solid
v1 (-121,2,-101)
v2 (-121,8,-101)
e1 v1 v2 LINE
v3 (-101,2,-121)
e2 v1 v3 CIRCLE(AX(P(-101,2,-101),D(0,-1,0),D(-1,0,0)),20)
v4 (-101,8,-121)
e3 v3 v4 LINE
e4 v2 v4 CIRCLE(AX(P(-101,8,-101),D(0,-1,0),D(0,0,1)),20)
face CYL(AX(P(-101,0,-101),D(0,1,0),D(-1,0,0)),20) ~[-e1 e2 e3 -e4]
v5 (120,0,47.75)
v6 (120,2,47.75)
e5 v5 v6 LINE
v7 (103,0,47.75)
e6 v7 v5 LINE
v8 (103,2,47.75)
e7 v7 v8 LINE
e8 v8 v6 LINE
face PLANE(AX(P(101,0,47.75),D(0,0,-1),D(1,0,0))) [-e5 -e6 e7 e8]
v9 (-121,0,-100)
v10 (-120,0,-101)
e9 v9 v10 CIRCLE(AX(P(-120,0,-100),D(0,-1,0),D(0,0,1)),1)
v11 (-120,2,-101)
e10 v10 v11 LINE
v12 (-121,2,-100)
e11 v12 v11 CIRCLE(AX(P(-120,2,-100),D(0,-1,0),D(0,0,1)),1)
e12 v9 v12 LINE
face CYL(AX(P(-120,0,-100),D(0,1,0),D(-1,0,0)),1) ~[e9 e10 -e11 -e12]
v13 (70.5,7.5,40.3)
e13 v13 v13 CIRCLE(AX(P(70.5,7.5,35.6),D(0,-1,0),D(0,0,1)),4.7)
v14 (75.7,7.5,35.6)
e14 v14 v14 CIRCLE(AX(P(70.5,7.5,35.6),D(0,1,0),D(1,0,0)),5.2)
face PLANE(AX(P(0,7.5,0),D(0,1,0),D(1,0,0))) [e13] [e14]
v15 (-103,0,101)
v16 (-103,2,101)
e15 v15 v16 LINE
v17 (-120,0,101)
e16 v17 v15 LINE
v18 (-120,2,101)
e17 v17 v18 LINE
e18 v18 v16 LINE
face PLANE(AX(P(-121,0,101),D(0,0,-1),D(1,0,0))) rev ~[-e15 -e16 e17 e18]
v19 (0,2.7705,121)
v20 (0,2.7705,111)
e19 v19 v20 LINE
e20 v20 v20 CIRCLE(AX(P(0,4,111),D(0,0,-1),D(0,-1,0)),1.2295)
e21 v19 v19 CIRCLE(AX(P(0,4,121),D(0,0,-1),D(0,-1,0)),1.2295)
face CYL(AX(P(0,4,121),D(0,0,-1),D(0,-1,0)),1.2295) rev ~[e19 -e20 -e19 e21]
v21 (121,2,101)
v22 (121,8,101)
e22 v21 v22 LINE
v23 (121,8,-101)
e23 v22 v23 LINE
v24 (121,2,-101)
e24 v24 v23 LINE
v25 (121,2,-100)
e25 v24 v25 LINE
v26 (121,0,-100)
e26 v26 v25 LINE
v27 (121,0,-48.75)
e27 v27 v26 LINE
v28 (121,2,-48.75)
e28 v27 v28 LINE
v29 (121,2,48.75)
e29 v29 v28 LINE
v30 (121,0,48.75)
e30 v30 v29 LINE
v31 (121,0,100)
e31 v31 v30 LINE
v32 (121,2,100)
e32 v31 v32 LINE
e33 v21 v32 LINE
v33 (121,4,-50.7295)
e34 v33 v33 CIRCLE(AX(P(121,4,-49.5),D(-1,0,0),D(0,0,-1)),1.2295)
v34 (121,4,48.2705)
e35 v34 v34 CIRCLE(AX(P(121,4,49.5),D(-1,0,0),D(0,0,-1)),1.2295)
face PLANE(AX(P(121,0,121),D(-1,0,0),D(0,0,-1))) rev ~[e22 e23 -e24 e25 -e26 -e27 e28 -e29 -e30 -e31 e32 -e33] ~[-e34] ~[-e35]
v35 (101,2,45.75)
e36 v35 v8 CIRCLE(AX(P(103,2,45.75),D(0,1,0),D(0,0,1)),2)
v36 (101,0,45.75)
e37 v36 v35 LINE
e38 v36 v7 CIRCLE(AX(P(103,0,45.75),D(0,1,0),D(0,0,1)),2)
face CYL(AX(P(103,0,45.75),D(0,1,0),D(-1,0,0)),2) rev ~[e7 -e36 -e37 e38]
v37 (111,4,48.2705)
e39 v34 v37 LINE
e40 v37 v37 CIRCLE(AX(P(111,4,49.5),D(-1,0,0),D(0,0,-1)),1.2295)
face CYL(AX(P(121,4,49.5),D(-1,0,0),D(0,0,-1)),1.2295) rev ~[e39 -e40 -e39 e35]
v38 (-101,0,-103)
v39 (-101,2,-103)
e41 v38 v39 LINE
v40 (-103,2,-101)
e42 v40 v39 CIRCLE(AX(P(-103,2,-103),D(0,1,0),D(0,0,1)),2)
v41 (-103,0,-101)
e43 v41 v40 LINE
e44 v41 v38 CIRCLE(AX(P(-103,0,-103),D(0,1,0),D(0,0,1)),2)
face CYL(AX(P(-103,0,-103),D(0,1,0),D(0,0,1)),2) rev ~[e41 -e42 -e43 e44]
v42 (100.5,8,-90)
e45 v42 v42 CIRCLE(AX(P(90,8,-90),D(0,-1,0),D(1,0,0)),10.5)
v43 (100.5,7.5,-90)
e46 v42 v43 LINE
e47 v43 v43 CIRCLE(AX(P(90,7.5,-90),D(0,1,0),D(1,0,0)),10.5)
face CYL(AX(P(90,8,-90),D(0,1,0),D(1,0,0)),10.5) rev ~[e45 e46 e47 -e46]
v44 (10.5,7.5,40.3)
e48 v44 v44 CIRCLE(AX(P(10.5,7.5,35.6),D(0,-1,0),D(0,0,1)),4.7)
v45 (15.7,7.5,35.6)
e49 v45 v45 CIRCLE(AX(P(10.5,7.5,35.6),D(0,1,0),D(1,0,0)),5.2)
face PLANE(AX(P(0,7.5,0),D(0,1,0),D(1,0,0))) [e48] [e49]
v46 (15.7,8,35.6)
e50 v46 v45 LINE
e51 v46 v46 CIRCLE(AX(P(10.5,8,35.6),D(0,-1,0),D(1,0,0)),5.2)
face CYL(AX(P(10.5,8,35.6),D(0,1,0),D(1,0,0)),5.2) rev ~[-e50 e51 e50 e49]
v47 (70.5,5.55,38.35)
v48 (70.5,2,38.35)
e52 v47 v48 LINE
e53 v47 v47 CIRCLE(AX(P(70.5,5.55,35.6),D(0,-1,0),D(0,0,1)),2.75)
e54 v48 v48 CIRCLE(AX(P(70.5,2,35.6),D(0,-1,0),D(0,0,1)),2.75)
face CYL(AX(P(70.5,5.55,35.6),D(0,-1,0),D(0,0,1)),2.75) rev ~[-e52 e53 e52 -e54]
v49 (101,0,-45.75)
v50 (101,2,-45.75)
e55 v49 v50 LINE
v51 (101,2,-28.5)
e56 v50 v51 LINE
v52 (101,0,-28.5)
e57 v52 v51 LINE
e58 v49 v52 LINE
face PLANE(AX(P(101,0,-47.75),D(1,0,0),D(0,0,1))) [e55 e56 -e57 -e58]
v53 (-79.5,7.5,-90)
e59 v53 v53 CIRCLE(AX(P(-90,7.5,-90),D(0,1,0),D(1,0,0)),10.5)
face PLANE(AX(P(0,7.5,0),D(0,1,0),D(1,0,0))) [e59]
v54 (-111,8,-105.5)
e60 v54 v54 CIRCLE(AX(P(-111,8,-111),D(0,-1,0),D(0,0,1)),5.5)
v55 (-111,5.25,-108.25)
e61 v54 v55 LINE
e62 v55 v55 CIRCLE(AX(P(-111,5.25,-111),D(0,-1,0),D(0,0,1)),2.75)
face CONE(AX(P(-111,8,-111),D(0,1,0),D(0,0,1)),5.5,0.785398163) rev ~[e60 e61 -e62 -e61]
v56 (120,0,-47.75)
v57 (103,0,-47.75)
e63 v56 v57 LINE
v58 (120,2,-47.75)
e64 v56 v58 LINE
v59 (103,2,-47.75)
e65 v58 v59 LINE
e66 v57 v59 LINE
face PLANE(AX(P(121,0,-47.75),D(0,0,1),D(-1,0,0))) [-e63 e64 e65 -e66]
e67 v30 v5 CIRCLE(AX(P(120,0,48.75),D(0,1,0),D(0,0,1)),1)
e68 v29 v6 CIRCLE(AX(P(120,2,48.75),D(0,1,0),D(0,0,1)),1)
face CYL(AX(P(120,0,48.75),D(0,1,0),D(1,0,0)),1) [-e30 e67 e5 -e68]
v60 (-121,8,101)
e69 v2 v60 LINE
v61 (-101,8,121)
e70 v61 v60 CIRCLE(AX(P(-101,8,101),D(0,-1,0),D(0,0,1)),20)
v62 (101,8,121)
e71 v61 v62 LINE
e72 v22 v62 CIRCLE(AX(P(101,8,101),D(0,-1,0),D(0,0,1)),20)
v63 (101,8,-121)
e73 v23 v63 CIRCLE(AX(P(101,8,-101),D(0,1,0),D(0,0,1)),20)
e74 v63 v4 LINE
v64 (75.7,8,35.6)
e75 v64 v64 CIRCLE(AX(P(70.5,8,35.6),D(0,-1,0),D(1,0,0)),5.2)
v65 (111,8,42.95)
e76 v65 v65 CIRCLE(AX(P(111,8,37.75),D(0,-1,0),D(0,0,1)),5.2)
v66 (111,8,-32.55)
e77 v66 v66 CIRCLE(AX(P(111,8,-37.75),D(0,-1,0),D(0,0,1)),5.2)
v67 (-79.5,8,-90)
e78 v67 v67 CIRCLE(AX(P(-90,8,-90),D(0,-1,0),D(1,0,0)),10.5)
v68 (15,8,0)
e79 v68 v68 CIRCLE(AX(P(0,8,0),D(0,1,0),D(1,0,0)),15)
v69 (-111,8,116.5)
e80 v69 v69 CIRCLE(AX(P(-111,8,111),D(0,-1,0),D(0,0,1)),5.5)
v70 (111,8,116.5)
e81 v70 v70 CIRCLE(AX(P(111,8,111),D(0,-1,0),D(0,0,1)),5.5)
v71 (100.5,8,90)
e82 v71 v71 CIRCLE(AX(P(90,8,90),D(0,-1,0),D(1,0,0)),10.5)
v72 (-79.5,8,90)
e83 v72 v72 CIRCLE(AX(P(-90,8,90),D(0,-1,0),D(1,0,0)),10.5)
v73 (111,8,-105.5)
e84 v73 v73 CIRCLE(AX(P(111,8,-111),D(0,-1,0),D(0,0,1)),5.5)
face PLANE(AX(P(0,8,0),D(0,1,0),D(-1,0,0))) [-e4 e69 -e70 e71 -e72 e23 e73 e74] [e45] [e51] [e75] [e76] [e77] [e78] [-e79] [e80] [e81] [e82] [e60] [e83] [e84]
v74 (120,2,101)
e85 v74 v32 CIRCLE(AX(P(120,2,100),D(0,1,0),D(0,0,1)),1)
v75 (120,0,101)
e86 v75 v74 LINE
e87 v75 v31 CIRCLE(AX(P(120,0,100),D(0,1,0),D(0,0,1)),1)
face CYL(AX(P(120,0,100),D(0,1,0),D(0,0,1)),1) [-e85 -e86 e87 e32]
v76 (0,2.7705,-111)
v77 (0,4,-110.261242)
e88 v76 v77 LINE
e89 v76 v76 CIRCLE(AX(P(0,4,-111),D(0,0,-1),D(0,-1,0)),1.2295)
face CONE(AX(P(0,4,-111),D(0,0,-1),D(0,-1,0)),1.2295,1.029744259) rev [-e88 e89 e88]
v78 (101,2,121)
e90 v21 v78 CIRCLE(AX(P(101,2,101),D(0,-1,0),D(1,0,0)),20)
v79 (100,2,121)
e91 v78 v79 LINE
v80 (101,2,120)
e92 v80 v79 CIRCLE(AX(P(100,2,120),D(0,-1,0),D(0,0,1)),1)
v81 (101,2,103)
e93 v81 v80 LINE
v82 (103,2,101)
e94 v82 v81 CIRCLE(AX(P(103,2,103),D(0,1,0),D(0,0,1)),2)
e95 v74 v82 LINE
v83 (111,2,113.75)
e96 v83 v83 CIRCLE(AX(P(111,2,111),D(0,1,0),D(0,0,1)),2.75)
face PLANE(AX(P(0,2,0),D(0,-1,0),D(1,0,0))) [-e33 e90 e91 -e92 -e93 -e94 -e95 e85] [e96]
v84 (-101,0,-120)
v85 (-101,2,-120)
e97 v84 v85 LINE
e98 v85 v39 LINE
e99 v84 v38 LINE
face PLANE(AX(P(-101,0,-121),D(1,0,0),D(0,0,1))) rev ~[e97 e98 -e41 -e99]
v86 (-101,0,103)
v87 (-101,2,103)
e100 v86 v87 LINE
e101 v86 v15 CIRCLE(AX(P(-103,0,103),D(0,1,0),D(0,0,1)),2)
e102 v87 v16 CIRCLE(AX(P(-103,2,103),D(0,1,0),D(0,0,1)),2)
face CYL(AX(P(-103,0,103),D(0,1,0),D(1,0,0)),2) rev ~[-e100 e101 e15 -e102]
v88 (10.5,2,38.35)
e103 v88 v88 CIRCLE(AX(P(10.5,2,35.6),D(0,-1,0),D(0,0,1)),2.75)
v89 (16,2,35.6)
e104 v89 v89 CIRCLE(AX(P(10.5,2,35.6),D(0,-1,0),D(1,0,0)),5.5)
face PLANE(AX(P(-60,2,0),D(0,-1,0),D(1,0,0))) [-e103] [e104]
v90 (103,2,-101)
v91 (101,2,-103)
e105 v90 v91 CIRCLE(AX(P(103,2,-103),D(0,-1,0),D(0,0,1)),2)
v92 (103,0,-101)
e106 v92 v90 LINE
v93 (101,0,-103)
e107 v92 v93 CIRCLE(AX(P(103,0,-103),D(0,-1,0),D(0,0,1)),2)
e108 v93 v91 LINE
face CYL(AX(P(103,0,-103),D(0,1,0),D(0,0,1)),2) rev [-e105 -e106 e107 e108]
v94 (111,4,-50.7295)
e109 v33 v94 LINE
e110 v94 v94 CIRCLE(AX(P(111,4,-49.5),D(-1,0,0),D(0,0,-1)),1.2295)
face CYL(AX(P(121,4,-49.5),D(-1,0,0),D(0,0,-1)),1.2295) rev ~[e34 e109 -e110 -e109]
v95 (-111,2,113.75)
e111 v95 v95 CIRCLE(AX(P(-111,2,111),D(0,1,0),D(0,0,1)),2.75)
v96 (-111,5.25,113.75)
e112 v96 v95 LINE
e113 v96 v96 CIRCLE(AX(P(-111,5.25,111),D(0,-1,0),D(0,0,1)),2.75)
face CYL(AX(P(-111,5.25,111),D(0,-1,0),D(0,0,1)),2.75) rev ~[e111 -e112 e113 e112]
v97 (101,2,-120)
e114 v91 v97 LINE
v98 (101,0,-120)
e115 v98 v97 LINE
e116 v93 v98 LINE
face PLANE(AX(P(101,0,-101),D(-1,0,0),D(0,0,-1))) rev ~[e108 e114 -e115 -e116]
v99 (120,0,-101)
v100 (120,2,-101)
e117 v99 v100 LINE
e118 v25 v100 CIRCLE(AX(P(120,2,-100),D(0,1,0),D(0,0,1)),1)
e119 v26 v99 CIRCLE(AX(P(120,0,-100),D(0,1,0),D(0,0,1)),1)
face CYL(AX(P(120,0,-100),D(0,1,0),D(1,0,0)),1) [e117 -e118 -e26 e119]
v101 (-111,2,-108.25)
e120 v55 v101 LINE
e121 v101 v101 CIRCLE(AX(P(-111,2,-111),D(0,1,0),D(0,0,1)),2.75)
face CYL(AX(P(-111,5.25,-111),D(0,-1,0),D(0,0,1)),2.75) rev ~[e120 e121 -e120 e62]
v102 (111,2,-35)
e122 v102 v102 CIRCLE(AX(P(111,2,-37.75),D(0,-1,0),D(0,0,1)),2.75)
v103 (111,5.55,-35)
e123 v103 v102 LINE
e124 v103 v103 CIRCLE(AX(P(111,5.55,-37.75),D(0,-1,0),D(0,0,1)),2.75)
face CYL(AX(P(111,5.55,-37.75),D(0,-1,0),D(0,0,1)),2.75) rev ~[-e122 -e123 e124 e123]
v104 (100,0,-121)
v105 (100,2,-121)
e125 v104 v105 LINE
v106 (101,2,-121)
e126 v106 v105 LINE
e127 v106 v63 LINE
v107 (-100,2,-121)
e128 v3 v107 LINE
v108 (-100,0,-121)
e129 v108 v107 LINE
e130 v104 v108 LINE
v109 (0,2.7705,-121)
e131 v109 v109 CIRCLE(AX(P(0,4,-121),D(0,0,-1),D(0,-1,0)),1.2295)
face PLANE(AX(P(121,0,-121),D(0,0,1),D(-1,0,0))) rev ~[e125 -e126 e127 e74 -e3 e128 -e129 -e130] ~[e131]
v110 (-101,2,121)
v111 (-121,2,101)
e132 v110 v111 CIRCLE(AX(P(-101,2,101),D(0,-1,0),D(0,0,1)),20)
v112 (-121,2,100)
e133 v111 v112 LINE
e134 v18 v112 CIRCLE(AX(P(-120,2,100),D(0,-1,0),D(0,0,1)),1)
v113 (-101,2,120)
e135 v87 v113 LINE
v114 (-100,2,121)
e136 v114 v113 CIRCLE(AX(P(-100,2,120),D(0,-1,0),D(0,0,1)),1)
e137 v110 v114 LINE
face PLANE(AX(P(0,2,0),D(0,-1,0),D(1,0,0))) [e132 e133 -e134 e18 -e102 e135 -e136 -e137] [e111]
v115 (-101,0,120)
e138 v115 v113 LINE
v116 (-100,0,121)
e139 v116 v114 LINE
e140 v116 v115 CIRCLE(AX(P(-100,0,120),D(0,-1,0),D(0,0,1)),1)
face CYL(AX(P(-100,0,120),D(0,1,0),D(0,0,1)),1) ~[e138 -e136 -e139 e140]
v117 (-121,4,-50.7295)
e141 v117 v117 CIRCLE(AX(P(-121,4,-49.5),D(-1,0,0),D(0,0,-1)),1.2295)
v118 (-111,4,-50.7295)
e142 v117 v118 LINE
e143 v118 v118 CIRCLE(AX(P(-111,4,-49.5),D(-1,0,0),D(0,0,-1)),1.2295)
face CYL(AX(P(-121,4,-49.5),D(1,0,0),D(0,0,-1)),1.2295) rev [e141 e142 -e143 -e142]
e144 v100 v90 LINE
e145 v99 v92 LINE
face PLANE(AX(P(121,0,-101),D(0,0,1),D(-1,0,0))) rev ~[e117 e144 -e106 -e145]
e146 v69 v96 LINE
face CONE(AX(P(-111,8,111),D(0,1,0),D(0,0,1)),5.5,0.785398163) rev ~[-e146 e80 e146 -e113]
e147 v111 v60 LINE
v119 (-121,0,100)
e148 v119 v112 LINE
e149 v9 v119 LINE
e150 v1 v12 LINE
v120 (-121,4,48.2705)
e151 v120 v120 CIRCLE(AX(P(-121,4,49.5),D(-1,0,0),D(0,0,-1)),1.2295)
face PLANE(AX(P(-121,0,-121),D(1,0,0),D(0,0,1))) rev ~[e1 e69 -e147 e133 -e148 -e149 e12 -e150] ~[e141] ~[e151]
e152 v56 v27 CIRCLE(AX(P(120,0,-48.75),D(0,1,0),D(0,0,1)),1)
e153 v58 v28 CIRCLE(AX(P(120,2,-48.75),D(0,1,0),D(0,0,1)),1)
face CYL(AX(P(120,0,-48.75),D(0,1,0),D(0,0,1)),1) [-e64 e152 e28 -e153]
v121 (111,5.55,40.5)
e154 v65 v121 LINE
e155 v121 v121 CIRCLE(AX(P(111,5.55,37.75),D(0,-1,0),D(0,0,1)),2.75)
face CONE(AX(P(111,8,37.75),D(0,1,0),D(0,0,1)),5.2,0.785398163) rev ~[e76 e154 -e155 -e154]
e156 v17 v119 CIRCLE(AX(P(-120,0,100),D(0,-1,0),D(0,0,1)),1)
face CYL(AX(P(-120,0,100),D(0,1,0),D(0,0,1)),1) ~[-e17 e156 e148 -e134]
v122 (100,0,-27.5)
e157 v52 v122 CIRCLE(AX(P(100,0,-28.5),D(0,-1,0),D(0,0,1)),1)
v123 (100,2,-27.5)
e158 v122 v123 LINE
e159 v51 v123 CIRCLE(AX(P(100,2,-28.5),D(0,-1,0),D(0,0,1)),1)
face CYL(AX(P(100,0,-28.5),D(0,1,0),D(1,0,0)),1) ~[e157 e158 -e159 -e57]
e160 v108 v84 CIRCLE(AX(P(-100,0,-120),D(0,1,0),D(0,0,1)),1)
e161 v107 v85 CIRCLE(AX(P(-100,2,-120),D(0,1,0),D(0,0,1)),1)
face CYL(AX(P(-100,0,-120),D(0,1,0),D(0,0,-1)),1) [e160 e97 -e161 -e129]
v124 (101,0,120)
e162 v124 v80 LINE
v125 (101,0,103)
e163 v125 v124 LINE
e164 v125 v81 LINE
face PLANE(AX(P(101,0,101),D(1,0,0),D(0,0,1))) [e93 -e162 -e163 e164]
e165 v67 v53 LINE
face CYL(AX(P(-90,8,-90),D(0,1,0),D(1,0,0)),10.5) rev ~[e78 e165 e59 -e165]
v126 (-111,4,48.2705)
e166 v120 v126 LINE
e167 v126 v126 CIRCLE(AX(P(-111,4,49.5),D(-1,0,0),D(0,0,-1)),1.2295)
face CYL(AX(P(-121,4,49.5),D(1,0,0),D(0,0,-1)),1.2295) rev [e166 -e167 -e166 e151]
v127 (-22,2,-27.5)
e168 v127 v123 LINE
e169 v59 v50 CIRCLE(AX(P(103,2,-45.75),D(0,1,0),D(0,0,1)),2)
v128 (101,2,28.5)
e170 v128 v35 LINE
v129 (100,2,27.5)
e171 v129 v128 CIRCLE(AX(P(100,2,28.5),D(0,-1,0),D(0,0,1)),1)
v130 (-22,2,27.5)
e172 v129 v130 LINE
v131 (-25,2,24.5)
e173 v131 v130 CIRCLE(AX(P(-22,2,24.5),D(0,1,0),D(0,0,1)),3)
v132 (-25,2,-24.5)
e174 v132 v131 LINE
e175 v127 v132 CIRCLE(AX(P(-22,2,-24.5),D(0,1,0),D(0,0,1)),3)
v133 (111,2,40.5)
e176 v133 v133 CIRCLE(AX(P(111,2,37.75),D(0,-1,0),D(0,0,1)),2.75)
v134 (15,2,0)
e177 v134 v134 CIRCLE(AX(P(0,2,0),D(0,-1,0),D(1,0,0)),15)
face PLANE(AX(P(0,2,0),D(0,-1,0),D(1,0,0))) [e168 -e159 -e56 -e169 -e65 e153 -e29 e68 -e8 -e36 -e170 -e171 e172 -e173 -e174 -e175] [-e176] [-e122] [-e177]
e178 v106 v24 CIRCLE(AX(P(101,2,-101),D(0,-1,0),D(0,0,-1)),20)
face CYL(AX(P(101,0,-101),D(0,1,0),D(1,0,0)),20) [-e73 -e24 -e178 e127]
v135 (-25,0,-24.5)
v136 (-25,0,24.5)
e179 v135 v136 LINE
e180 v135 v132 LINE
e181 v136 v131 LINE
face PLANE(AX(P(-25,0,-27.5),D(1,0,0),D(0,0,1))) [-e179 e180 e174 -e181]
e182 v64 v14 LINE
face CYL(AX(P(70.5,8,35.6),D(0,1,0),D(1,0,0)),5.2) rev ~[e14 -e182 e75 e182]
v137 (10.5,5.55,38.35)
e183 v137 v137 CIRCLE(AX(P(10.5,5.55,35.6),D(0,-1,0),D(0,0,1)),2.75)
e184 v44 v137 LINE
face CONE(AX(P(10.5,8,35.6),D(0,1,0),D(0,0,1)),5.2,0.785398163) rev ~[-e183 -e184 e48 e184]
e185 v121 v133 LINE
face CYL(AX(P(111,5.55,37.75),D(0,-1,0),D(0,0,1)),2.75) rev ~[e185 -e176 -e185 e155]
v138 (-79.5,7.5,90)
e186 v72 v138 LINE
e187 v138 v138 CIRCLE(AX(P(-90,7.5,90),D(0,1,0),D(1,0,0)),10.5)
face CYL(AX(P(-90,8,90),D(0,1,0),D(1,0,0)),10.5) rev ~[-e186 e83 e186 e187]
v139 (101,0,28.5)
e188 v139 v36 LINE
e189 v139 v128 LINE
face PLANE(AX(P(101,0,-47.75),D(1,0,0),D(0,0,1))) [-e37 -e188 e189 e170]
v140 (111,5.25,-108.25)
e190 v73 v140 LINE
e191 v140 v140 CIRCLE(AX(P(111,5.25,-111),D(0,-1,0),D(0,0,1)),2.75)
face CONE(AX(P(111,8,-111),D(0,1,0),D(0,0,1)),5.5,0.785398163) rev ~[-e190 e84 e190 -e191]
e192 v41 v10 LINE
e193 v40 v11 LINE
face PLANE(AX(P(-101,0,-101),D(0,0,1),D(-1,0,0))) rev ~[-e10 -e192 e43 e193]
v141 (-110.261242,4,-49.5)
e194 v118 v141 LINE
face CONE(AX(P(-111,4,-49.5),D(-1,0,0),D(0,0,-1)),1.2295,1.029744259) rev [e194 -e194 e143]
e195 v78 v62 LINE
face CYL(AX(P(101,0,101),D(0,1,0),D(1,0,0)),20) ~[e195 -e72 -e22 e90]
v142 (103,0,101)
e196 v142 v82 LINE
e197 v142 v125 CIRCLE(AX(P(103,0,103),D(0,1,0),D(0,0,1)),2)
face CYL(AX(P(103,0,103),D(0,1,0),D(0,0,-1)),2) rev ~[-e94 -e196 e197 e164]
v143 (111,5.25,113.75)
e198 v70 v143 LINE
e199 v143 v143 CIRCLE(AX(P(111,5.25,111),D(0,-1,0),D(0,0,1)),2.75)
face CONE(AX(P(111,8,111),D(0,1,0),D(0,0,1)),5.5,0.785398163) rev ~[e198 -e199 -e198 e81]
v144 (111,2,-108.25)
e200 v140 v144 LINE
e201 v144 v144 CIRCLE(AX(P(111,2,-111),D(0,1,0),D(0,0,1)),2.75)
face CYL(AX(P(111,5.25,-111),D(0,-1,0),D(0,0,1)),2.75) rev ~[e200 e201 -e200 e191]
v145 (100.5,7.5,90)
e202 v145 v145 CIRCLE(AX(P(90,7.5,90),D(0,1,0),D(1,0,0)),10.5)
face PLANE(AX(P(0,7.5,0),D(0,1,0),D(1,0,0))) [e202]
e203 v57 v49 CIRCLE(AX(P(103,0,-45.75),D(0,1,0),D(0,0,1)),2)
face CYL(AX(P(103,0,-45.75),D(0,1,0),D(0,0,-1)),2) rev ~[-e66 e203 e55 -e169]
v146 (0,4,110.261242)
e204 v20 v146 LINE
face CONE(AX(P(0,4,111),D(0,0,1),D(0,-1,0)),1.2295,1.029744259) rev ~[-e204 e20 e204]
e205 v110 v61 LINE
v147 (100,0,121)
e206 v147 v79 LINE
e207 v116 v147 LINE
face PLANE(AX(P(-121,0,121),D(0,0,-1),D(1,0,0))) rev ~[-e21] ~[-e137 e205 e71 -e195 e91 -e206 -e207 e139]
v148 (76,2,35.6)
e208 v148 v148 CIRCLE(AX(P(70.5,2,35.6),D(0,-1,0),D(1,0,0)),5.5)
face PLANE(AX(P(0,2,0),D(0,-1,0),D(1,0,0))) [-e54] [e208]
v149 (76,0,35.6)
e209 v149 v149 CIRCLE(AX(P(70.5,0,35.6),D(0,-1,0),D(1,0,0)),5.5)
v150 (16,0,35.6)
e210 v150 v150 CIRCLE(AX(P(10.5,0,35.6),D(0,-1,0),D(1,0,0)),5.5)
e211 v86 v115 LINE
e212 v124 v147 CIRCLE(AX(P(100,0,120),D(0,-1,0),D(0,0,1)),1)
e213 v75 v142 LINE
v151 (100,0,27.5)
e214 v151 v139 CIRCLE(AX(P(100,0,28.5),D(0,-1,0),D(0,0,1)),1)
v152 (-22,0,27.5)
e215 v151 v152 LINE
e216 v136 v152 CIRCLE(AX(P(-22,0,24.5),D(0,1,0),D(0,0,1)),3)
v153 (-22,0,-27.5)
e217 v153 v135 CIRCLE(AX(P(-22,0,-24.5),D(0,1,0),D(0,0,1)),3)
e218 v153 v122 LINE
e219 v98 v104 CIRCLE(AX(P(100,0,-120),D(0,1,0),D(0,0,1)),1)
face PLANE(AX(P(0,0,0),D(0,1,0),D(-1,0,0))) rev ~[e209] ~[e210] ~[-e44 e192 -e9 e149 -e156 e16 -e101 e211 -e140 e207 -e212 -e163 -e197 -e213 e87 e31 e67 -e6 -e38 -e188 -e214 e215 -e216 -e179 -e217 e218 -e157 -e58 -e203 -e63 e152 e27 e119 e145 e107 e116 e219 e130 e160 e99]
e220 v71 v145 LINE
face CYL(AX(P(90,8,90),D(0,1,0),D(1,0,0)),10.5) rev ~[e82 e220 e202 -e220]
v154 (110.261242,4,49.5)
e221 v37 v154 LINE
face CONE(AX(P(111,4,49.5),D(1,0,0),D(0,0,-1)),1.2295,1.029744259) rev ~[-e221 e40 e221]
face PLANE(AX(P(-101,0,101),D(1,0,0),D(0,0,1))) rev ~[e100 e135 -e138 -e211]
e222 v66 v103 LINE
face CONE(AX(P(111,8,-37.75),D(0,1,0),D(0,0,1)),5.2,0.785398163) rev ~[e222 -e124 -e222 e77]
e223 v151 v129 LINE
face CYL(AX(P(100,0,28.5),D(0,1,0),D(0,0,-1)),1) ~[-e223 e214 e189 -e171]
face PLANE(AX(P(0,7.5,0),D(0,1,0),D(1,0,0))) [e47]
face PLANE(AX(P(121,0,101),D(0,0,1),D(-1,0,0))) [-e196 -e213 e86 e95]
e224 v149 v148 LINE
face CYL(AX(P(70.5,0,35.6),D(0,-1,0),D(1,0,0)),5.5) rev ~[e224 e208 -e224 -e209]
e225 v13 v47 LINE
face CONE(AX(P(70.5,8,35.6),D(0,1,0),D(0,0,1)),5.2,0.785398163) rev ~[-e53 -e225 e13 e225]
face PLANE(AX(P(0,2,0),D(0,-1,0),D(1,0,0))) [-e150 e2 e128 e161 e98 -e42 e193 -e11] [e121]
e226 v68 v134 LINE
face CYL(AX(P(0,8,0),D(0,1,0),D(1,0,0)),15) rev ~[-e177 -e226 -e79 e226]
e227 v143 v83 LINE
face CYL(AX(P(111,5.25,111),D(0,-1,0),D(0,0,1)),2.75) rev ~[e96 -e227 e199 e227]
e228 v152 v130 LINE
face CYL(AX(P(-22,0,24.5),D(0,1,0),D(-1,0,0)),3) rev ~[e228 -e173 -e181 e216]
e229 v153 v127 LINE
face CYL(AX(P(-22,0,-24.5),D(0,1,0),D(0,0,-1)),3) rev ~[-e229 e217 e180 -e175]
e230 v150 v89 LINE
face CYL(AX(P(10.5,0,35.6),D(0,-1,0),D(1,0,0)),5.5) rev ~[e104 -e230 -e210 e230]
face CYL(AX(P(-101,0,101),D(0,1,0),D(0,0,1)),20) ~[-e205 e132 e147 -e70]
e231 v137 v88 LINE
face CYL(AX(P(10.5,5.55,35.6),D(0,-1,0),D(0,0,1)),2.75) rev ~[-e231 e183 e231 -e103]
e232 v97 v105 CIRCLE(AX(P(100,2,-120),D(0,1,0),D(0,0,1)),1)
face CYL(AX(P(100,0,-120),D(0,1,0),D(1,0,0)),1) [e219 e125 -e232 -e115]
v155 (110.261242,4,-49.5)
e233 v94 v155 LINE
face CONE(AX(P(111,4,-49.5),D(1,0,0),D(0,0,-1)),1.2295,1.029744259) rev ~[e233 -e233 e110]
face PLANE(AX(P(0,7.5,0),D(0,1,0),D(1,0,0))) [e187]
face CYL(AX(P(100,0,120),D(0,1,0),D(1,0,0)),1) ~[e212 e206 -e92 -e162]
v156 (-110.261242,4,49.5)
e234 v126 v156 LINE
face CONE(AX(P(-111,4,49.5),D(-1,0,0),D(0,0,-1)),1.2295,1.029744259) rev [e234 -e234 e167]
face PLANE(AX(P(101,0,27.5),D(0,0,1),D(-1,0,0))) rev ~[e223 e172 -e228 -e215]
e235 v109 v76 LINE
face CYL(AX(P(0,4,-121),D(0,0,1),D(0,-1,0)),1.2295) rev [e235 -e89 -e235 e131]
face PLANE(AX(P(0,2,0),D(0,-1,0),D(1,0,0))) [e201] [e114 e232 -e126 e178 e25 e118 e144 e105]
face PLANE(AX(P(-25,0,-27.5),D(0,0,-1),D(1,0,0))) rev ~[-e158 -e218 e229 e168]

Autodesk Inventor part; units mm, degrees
ref_plane "YZ Plane" through (0, 0, 0) normal (1, 0, 0) x (0, 1, 0)
ref_plane "XZ Plane" through (0, 0, 0) normal (0, 1, 0) x (-1, 0, 0)
ref_plane "XY Plane" through (0, 0, 0) normal (0, 0, 1) x (1, 0, 0)
sketch "Skizze1" plane through (0, 0, 0) normal (0, 1, 0) x (-1, 0, 0)
  line L0 (-121, -121) -> (121, -121)
  line L1 (121, -121) -> (121, 121)
  line L2 (121, 121) -> (-121, 121)
  line L3 (-121, 121) -> (-121, -121)
  line L4 (-121, -121) -> (121, 121) construction
  line L5 (121, -121) -> (-121, 121) construction
  point P0 (0, 0)
  dimension "d0" = 242
  dimension "d1" = 242
extrude "Extrusion1" add sketch "Skizze1" along normal blind 8
fillet "Rundung1" radius 20 4 edges at (121, 4, 121) (121, 4, -121) (-121, 4, -121) (-121, 4, 121)
sketch "Skizze6" plane through (0, 8, 0) normal (0, 1, 0) x (1, 0, 0)
  arc A0 (-121, -101) -> (-101, -121) centre (-101, -101) ccw projected
  line L0 (-101, -121) -> (101, -121) projected
  arc A1 (101, -121) -> (121, -101) centre (101, -101) ccw projected
  line L1 (121, -101) -> (121, 101) projected
  arc A2 (121, 101) -> (101, 121) centre (101, 101) ccw projected
  line L2 (101, 121) -> (-101, 121) projected
  arc A3 (-101, 121) -> (-121, 101) centre (-101, 101) ccw projected
  line L3 (-121, 101) -> (-121, -101) projected
  circle A4 centre (0, 0) radius 15
  dimension "d35" = 30
extrude "Extrusion4" cut sketch "Skizze6" against normal blind 10 contours A4
sketch "Skizze9" plane through (0, 8, 0) normal (0, 1, 0) x (1, 0, 0)
  circle A0 centre (0, 0) radius 15 projected
  arc A1 (-121, -101) -> (-101, -121) centre (-101, -101) ccw projected
  line L0 (-101, -121) -> (101, -121) projected
  arc A2 (101, -121) -> (121, -101) centre (101, -101) ccw projected
  line L1 (121, -101) -> (121, 101) projected
  arc A3 (121, 101) -> (101, 121) centre (101, 101) ccw projected
  line L2 (101, 121) -> (-101, 121) projected
  arc A4 (-101, 121) -> (-121, 101) centre (-101, 101) ccw projected
  line L3 (-121, 101) -> (-121, -101) projected
  line L4 (-121, -121) -> (-101, -121)
  line L5 (-101, -121) -> (-101, -101)
  line L6 (-101, -101) -> (-121, -101)
  line L7 (-121, -101) -> (-121, -121)
  line L8 (-121, -121) -> (-101, -101) construction
  line L9 (-101, -121) -> (-121, -101) construction
  line L10 (111, 111) -> (-111, 111)
  line L11 (-111, 111) -> (-111, -111)
  line L12 (-111, -111) -> (111, -111)
  line L13 (111, -111) -> (111, 111)
  line L14 (111, 111) -> (-111, -111) construction
  line L15 (-111, 111) -> (111, -111) construction
  dimension "d69" = 20
  dimension "d70" = 20
hole "Bohrung3" at (-111, 8, 111) at (-111, 8, -111) at (111, 8, 111) at (111, 8, -111) direction (0, -1, 0) diameter 5.5 depth 20 tip angle 118 countersink diameter 11 countersink angle 90 clearance for "Flachkopfsenkschraube ISO 2009/7046" size "M5" standard "ISO"
sketch "Skizze13" plane through (121, 0, 101) normal (1, 0, 0) x (0, 0, -1)
  line L0 (202, 8) -> (202, 0) projected
  line L1 (0, 8) -> (202, 8) projected
  line L2 (0, 0) -> (0, 8) projected
  line L3 (0, 0) -> (202, 0) projected
  line L4 (0, 0) -> (202, 0) projected
  line L5 (101, 0) -> (101, 8)
  point P0 (101, 0)
  point P1 (51.5, 4)
  point P2 (150.5, 4)
  dimension "d106" = 4
  dimension "d135" = 99
hole "Bohrung5" at (121, 4, 49.5) at (121, 4, -49.5) direction (-1, 0, 0) diameter 2.459 depth 10 tip angle 118 thread size "M3x0.5" class "6H" standard "ISO Metric profile"
sketch "Skizze14" plane through (-101, 0, 121) normal (0, 0, 1) x (1, 0, 0)
  line L0 (0, 0) -> (0, 8) projected
  line L1 (0, 0) -> (202, 0) projected
  line L2 (202, 8) -> (202, 0) projected
  line L3 (0, 8) -> (202, 8) projected
  point P0 (101, 0)
  point P1 (101, 4)
  point P2 (101, 0)
  dimension "d115" = 4
hole "Bohrung6" at (0, 4, 121) direction (0, 0, -1) diameter 2.459 depth 10 tip angle 118 thread size "M3x0.5" class "6H" standard "ISO Metric profile"
mirror "Spiegeln2" about plane through (0, 0, 0) normal (1, 0, 0) of "Bohrung5"
mirror "Spiegeln3" about plane through (0, 0, 0) normal (0, 0, 1) of "Bohrung6"
sketch "Skizze15" plane through (0, 0, 0) normal (0, -1, 0) x (1, 0, 0)
  circle A0 centre (111, -111) radius 2.75 projected
  circle A1 centre (111, 111) radius 2.75 projected
  circle A2 centre (-111, -111) radius 2.75 projected
  circle A3 centre (-111, 111) radius 2.75 projected
  circle A4 centre (0, 0) radius 15 projected
  arc A5 (-101, 121) -> (-121, 101) centre (-101, 101) ccw projected
  line L0 (-121, -101) -> (-121, 101) projected
  arc A6 (-121, -101) -> (-101, -121) centre (-101, -101) ccw projected
  line L1 (101, -121) -> (-101, -121) projected
  arc A7 (101, -121) -> (121, -101) centre (101, -101) ccw projected
  line L2 (121, 101) -> (121, -101) projected
  arc A8 (121, 101) -> (101, 121) centre (101, 101) ccw projected
  line L3 (-101, 121) -> (101, 121) projected
  line L4 (-121, 101) -> (-101, 101)
  line L5 (-101, 101) -> (-101, 121)
  line L6 (-101, 121) -> (-121, 121)
  line L7 (-121, 121) -> (-121, 101)
  line L8 (-121, 101) -> (-101, 121) construction
  line L9 (-101, 101) -> (-121, 121) construction
  line L10 (101, 121) -> (121, 121)
  line L11 (121, 121) -> (121, 101)
  line L12 (121, 101) -> (101, 101)
  line L13 (101, 101) -> (101, 121)
  line L14 (101, 121) -> (121, 101) construction
  line L15 (121, 121) -> (101, 101) construction
  line L16 (-121, -121) -> (-101, -121)
  line L17 (-101, -121) -> (-101, -101)
  line L18 (-101, -101) -> (-121, -101)
  line L19 (-121, -101) -> (-121, -121)
  line L20 (-121, -121) -> (-101, -101) construction
  line L21 (-101, -121) -> (-121, -101) construction
  line L22 (101, -121) -> (121, -121)
  line L23 (121, -121) -> (121, -101)
  line L24 (121, -101) -> (101, -101)
  line L25 (101, -101) -> (101, -121)
  line L26 (101, -121) -> (121, -101) construction
  line L27 (121, -121) -> (101, -101) construction
  dimension "d123" = 20
  dimension "d124" = 20
  dimension "d125" = 20
  dimension "d126" = 20
  dimension "d127" = 20
  dimension "d128" = 20
  dimension "d129" = 20
  dimension "d130" = 20
extrude "Extrusion8" cut sketch "Skizze15" against normal blind 2 contours L5 L4 A5 | A8 L12 L13 | L18 L17 A6 | A7 L25 L24
fillet "Rundung6" radius 2 4 edges at (101, 1, 101) (101, 1, -101) (-101, 1, -101) (-101, 1, 101)
fillet "Rundung7" radius 1 8 edges at (101, 1, 121) (121, 1, 101) (121, 1, -101) (101, 1, -121) (-121, 1, -101) (-101, 1, -121) (-121, 1, 101) (-101, 1, 121)
sketch "Skizze17" plane through (0, 0, 0) normal (0, -1, 0) x (1, 0, 0)
  line L0 (141, -47.75) -> (101, -47.75)
  line L1 (101, -47.75) -> (101, 47.75)
  line L2 (101, 47.75) -> (141, 47.75)
  line L3 (141, 47.75) -> (141, -47.75)
  line L4 (121, 101) -> (121, -101) projected
  line L5 (141, -47.75) -> (101, 47.75) construction
  line L6 (101, -47.75) -> (141, 47.75) construction
  point P0 (0, 0)
  point P1 (121, 0)
  point P2 (121, -47.75)
  point P3 (121, 47.75)
  dimension "d138" = 95.5
  dimension "d139" = 20
extrude "Extrusion10" cut sketch "Skizze17" against normal blind 2 contours L0 L1 L2 L4
fillet "Rundung8" radius 2 2 edges at (101, 1, 47.75) (101, 1, -47.75)
fillet "Rundung9" radius 1 2 edges at (121, 1, -47.75) (121, 1, 47.75)
sketch "Skizze19" plane through (0, 8, 0) normal (0, 1, 0) x (1, 0, 0)
  circle A0 centre (111, 111) radius 5.5 projected
  circle A1 centre (111, -111) radius 5.5 projected
  circle A2 centre (-111, 111) radius 5.5 projected
  circle A3 centre (-111, -111) radius 5.5 projected
  circle A4 centre (0, 0) radius 15 projected
  arc A5 (-121, -101) -> (-101, -121) centre (-101, -101) ccw projected
  line L0 (-101, -121) -> (101, -121) projected
  arc A6 (101, -121) -> (121, -101) centre (101, -101) ccw projected
  line L1 (121, -101) -> (121, 101) projected
  arc A7 (121, 101) -> (101, 121) centre (101, 101) ccw projected
  line L2 (101, 121) -> (-101, 121) projected
  arc A8 (-101, 121) -> (-121, 101) centre (-101, 101) ccw projected
  line L3 (-121, 101) -> (-121, -101) projected
  arc A9 (103, 47.75) -> (101, 45.75) centre (103, 45.75) ccw projected
  line L4 (120, 47.75) -> (103, 47.75) projected
  arc A10 (120, 47.75) -> (121, 48.75) centre (120, 48.75) ccw projected
  line L5 (121, -48.75) -> (121, 48.75) projected
  arc A11 (121, -48.75) -> (120, -47.75) centre (120, -48.75) ccw projected
  line L6 (103, -47.75) -> (120, -47.75) projected
  arc A12 (101, -45.75) -> (103, -47.75) centre (103, -45.75) ccw projected
  line L7 (101, 45.75) -> (101, -45.75) projected
  point P0 (111, 37.75)
  point P1 (111, -37.75)
  dimension "d144" = 10
  dimension "d145" = 10
  dimension "d146" = 10
  dimension "d147" = 10
hole "Bohrung7" at (111, 8, -37.75) at (111, 8, 37.75) direction (0, -1, 0) diameter 5.5 end through all countersink diameter 10.4 countersink angle 90 clearance for "Flachkopfsenkschraube ISO 2009/7046" size "M5" standard "ISO"
sketch "Skizze20" plane through (0, 0, 0) normal (0, -1, 0) x (1, 0, 0)
  arc A0 (120, 47.75) -> (121, 48.75) centre (120, 48.75) ccw projected
  line L0 (121, 100) -> (121, 48.75) projected
  arc A1 (121, 100) -> (120, 101) centre (120, 100) ccw projected
  line L1 (120, 101) -> (103, 101) projected
  arc A2 (101, 103) -> (103, 101) centre (103, 103) ccw projected
  line L2 (101, 103) -> (101, 120) projected
  arc A3 (101, 120) -> (100, 121) centre (100, 120) ccw projected
  line L3 (-100, 121) -> (100, 121) projected
  arc A4 (-100, 121) -> (-101, 120) centre (-100, 120) ccw projected
  line L4 (-101, 120) -> (-101, 103) projected
  arc A5 (-103, 101) -> (-101, 103) centre (-103, 103) ccw projected
  line L5 (-103, 101) -> (-120, 101) projected
  arc A6 (-120, 101) -> (-121, 100) centre (-120, 100) ccw projected
  line L6 (-121, -100) -> (-121, 100) projected
  arc A7 (-121, -100) -> (-120, -101) centre (-120, -100) ccw projected
  line L7 (-120, -101) -> (-103, -101) projected
  arc A8 (-101, -103) -> (-103, -101) centre (-103, -103) ccw projected
  line L8 (-101, -103) -> (-101, -120) projected
  arc A9 (-101, -120) -> (-100, -121) centre (-100, -120) ccw projected
  line L9 (100, -121) -> (-100, -121) projected
  arc A10 (100, -121) -> (101, -120) centre (100, -120) ccw projected
  line L10 (101, -120) -> (101, -103) projected
  arc A11 (103, -101) -> (101, -103) centre (103, -103) ccw projected
  line L11 (103, -101) -> (120, -101) projected
  arc A12 (120, -101) -> (121, -100) centre (120, -100) ccw projected
  line L12 (121, -48.75) -> (121, -100) projected
  arc A13 (121, -48.75) -> (120, -47.75) centre (120, -48.75) ccw projected
  line L13 (120, -47.75) -> (103, -47.75) projected
  arc A14 (101, -45.75) -> (103, -47.75) centre (103, -45.75) ccw projected
  line L14 (101, -45.75) -> (101, 45.75) projected
  arc A15 (103, 47.75) -> (101, 45.75) centre (103, 45.75) ccw projected
  line L15 (103, 47.75) -> (120, 47.75) projected
  circle A16 centre (0, 0) radius 15 projected
  line L16 (-101, -27.5) -> (101, -27.5)
  line L17 (101, -27.5) -> (101, 27.5)
  line L18 (101, 27.5) -> (-101, 27.5)
  line L19 (-101, 27.5) -> (-101, -27.5)
  line L20 (-101, -27.5) -> (101, 27.5) construction
  line L21 (101, -27.5) -> (-101, 27.5) construction
  line L22 (-25, -27.5) -> (-25, 27.5)
  line L23 (101, -45.75) -> (101, 45.75) projected
  dimension "d155" = 55
  dimension "d156" = 25
extrude "Extrusion11" cut sketch "Skizze20" against normal blind 2 contours L14 L16 L22 L18
fillet "Rundung10" radius 1 2 edges at (101, 1, 27.5) (101, 1, -27.5)
fillet "Rundung11" radius 3 2 edges at (-25, 1, -27.5) (-25, 1, 27.5)
sketch "Skizze21" plane through (0, 0, 0) normal (0, -1, 0) x (1, 0, 0)
  arc A0 (101, -28.5) -> (100, -27.5) centre (100, -28.5) ccw projected
  line L0 (100, -27.5) -> (-22, -27.5) projected
  arc A1 (-25, -24.5) -> (-22, -27.5) centre (-22, -24.5) ccw projected
  line L1 (-25, -24.5) -> (-25, 24.5) projected
  arc A2 (-22, 27.5) -> (-25, 24.5) centre (-22, 24.5) ccw projected
  line L2 (-22, 27.5) -> (100, 27.5) projected
  arc A3 (100, 27.5) -> (101, 28.5) centre (100, 28.5) ccw projected
  line L3 (101, 28.5) -> (101, 45.75) projected
  arc A4 (103, 47.75) -> (101, 45.75) centre (103, 45.75) ccw projected
  line L4 (103, 47.75) -> (120, 47.75) projected
  arc A5 (120, 47.75) -> (121, 48.75) centre (120, 48.75) ccw projected
  line L5 (121, 100) -> (121, 48.75) projected
  arc A6 (121, 100) -> (120, 101) centre (120, 100) ccw projected
  line L6 (120, 101) -> (103, 101) projected
  arc A7 (101, 103) -> (103, 101) centre (103, 103) ccw projected
  line L7 (101, 103) -> (101, 120) projected
  arc A8 (101, 120) -> (100, 121) centre (100, 120) ccw projected
  line L8 (-100, 121) -> (100, 121) projected
  arc A9 (-100, 121) -> (-101, 120) centre (-100, 120) ccw projected
  line L9 (-101, 120) -> (-101, 103) projected
  arc A10 (-103, 101) -> (-101, 103) centre (-103, 103) ccw projected
  line L10 (-103, 101) -> (-120, 101) projected
  arc A11 (-120, 101) -> (-121, 100) centre (-120, 100) ccw projected
  line L11 (-121, -100) -> (-121, 100) projected
  arc A12 (-121, -100) -> (-120, -101) centre (-120, -100) ccw projected
  line L12 (-120, -101) -> (-103, -101) projected
  arc A13 (-101, -103) -> (-103, -101) centre (-103, -103) ccw projected
  line L13 (-101, -103) -> (-101, -120) projected
  arc A14 (-101, -120) -> (-100, -121) centre (-100, -120) ccw projected
  line L14 (100, -121) -> (-100, -121) projected
  arc A15 (100, -121) -> (101, -120) centre (100, -120) ccw projected
  line L15 (101, -120) -> (101, -103) projected
  arc A16 (103, -101) -> (101, -103) centre (103, -103) ccw projected
  line L16 (103, -101) -> (120, -101) projected
  arc A17 (120, -101) -> (121, -100) centre (120, -100) ccw projected
  line L17 (121, -48.75) -> (121, -100) projected
  arc A18 (121, -48.75) -> (120, -47.75) centre (120, -48.75) ccw projected
  line L18 (120, -47.75) -> (103, -47.75) projected
  arc A19 (101, -45.75) -> (103, -47.75) centre (103, -45.75) ccw projected
  line L19 (101, -45.75) -> (101, -28.5) projected
  circle A20 centre (70.5, 35.6) radius 5.5
  line L20 (121, 48.75) -> (121, -48.75) projected
  point P0 (0, 0)
  point P1 (121, 0)
  dimension "d161" = 11
  dimension "d162" = 50.5
  dimension "d163" = 35.6
extrude "Extrusion12" cut sketch "Skizze21" against normal blind 2 contours A20
sketch "Skizze22" plane through (0, 8, 0) normal (0, 1, 0) x (1, 0, 0)
  circle A0 centre (111, -37.75) radius 5.2 projected
  circle A1 centre (111, 37.75) radius 5.2 projected
  circle A2 centre (111, 111) radius 5.5 projected
  circle A3 centre (111, -111) radius 5.5 projected
  circle A4 centre (-111, 111) radius 5.5 projected
  circle A5 centre (-111, -111) radius 5.5 projected
  circle A6 centre (0, 0) radius 15 projected
  arc A7 (-121, -101) -> (-101, -121) centre (-101, -101) ccw projected
  line L0 (-101, -121) -> (101, -121) projected
  arc A8 (101, -121) -> (121, -101) centre (101, -101) ccw projected
  line L1 (121, -101) -> (121, 101) projected
  arc A9 (121, 101) -> (101, 121) centre (101, 101) ccw projected
  line L2 (101, 121) -> (-101, 121) projected
  arc A10 (-101, 121) -> (-121, 101) centre (-101, 101) ccw projected
  line L3 (-121, 101) -> (-121, -101) projected
  circle A11 centre (70.5, -35.6) radius 5.5 projected
hole "Bohrung8" at (70.5, 8, 35.6) direction (0, -1, 0) diameter 5.5 depth 8 countersink diameter 10.4 countersink angle 90 clearance for "Flachkopfsenkschraube ISO 2009/7046" size "M5" standard "ISO"
pattern_linear "Rechteckige Anordnung1" count 2 spacing 60 along (-1, 0, 0) of "Bohrung8", "Extrusion12"
sketch "Skizze23" plane through (0, 8, 0) normal (0, 1, 0) x (1, 0, 0)
  circle A0 centre (10.5, -35.6) radius 5.2 projected
  circle A1 centre (70.5, -35.6) radius 5.2 projected
  circle A2 centre (111, -37.75) radius 5.2 projected
  circle A3 centre (111, 37.75) radius 5.2 projected
  circle A4 centre (111, 111) radius 5.5 projected
  circle A5 centre (111, -111) radius 5.5 projected
  circle A6 centre (-111, 111) radius 5.5 projected
  circle A7 centre (-111, -111) radius 5.5 projected
  circle A8 centre (0, 0) radius 15 projected
  arc A9 (-121, -101) -> (-101, -121) centre (-101, -101) ccw projected
  line L0 (-101, -121) -> (101, -121) projected
  arc A10 (101, -121) -> (121, -101) centre (101, -101) ccw projected
  line L1 (121, -101) -> (121, 101) projected
  arc A11 (121, 101) -> (101, 121) centre (101, 101) ccw projected
  line L2 (101, 121) -> (-101, 121) projected
  arc A12 (-101, 121) -> (-121, 101) centre (-101, 101) ccw projected
  line L3 (-121, 101) -> (-121, -101) projected
  line L4 (-90, 90) -> (90, 90)
  line L5 (90, 90) -> (90, -90)
  line L6 (90, -90) -> (-90, -90)
  line L7 (-90, -90) -> (-90, 90)
  line L8 (-90, 90) -> (90, -90) construction
  line L9 (90, 90) -> (-90, -90) construction
  circle A13 centre (90, 90) radius 10.5
  circle A14 centre (90, -90) radius 10.5
  circle A15 centre (-90, -90) radius 10.5
  circle A16 centre (-90, 90) radius 10.5
  dimension "d176" = 180
  dimension "d177" = 180
  dimension "d178" = 21
  dimension "d179" = 21
  dimension "d180" = 21
  dimension "d181" = 21
extrude "Extrusion13" cut sketch "Skizze23" against normal blind 0.5 contours A0 | A1 | A8 | L7 A16 L4 | L4 A16 L7 | A13 L5 L4 | L4 L5 A13 | A15 L6 L7 | L7 L6 A15 | A14 L6 L5 | L5 L6 A14
properties part number "M274_AA_0101_10_Grundplatte" material "Aluminium 6061"
